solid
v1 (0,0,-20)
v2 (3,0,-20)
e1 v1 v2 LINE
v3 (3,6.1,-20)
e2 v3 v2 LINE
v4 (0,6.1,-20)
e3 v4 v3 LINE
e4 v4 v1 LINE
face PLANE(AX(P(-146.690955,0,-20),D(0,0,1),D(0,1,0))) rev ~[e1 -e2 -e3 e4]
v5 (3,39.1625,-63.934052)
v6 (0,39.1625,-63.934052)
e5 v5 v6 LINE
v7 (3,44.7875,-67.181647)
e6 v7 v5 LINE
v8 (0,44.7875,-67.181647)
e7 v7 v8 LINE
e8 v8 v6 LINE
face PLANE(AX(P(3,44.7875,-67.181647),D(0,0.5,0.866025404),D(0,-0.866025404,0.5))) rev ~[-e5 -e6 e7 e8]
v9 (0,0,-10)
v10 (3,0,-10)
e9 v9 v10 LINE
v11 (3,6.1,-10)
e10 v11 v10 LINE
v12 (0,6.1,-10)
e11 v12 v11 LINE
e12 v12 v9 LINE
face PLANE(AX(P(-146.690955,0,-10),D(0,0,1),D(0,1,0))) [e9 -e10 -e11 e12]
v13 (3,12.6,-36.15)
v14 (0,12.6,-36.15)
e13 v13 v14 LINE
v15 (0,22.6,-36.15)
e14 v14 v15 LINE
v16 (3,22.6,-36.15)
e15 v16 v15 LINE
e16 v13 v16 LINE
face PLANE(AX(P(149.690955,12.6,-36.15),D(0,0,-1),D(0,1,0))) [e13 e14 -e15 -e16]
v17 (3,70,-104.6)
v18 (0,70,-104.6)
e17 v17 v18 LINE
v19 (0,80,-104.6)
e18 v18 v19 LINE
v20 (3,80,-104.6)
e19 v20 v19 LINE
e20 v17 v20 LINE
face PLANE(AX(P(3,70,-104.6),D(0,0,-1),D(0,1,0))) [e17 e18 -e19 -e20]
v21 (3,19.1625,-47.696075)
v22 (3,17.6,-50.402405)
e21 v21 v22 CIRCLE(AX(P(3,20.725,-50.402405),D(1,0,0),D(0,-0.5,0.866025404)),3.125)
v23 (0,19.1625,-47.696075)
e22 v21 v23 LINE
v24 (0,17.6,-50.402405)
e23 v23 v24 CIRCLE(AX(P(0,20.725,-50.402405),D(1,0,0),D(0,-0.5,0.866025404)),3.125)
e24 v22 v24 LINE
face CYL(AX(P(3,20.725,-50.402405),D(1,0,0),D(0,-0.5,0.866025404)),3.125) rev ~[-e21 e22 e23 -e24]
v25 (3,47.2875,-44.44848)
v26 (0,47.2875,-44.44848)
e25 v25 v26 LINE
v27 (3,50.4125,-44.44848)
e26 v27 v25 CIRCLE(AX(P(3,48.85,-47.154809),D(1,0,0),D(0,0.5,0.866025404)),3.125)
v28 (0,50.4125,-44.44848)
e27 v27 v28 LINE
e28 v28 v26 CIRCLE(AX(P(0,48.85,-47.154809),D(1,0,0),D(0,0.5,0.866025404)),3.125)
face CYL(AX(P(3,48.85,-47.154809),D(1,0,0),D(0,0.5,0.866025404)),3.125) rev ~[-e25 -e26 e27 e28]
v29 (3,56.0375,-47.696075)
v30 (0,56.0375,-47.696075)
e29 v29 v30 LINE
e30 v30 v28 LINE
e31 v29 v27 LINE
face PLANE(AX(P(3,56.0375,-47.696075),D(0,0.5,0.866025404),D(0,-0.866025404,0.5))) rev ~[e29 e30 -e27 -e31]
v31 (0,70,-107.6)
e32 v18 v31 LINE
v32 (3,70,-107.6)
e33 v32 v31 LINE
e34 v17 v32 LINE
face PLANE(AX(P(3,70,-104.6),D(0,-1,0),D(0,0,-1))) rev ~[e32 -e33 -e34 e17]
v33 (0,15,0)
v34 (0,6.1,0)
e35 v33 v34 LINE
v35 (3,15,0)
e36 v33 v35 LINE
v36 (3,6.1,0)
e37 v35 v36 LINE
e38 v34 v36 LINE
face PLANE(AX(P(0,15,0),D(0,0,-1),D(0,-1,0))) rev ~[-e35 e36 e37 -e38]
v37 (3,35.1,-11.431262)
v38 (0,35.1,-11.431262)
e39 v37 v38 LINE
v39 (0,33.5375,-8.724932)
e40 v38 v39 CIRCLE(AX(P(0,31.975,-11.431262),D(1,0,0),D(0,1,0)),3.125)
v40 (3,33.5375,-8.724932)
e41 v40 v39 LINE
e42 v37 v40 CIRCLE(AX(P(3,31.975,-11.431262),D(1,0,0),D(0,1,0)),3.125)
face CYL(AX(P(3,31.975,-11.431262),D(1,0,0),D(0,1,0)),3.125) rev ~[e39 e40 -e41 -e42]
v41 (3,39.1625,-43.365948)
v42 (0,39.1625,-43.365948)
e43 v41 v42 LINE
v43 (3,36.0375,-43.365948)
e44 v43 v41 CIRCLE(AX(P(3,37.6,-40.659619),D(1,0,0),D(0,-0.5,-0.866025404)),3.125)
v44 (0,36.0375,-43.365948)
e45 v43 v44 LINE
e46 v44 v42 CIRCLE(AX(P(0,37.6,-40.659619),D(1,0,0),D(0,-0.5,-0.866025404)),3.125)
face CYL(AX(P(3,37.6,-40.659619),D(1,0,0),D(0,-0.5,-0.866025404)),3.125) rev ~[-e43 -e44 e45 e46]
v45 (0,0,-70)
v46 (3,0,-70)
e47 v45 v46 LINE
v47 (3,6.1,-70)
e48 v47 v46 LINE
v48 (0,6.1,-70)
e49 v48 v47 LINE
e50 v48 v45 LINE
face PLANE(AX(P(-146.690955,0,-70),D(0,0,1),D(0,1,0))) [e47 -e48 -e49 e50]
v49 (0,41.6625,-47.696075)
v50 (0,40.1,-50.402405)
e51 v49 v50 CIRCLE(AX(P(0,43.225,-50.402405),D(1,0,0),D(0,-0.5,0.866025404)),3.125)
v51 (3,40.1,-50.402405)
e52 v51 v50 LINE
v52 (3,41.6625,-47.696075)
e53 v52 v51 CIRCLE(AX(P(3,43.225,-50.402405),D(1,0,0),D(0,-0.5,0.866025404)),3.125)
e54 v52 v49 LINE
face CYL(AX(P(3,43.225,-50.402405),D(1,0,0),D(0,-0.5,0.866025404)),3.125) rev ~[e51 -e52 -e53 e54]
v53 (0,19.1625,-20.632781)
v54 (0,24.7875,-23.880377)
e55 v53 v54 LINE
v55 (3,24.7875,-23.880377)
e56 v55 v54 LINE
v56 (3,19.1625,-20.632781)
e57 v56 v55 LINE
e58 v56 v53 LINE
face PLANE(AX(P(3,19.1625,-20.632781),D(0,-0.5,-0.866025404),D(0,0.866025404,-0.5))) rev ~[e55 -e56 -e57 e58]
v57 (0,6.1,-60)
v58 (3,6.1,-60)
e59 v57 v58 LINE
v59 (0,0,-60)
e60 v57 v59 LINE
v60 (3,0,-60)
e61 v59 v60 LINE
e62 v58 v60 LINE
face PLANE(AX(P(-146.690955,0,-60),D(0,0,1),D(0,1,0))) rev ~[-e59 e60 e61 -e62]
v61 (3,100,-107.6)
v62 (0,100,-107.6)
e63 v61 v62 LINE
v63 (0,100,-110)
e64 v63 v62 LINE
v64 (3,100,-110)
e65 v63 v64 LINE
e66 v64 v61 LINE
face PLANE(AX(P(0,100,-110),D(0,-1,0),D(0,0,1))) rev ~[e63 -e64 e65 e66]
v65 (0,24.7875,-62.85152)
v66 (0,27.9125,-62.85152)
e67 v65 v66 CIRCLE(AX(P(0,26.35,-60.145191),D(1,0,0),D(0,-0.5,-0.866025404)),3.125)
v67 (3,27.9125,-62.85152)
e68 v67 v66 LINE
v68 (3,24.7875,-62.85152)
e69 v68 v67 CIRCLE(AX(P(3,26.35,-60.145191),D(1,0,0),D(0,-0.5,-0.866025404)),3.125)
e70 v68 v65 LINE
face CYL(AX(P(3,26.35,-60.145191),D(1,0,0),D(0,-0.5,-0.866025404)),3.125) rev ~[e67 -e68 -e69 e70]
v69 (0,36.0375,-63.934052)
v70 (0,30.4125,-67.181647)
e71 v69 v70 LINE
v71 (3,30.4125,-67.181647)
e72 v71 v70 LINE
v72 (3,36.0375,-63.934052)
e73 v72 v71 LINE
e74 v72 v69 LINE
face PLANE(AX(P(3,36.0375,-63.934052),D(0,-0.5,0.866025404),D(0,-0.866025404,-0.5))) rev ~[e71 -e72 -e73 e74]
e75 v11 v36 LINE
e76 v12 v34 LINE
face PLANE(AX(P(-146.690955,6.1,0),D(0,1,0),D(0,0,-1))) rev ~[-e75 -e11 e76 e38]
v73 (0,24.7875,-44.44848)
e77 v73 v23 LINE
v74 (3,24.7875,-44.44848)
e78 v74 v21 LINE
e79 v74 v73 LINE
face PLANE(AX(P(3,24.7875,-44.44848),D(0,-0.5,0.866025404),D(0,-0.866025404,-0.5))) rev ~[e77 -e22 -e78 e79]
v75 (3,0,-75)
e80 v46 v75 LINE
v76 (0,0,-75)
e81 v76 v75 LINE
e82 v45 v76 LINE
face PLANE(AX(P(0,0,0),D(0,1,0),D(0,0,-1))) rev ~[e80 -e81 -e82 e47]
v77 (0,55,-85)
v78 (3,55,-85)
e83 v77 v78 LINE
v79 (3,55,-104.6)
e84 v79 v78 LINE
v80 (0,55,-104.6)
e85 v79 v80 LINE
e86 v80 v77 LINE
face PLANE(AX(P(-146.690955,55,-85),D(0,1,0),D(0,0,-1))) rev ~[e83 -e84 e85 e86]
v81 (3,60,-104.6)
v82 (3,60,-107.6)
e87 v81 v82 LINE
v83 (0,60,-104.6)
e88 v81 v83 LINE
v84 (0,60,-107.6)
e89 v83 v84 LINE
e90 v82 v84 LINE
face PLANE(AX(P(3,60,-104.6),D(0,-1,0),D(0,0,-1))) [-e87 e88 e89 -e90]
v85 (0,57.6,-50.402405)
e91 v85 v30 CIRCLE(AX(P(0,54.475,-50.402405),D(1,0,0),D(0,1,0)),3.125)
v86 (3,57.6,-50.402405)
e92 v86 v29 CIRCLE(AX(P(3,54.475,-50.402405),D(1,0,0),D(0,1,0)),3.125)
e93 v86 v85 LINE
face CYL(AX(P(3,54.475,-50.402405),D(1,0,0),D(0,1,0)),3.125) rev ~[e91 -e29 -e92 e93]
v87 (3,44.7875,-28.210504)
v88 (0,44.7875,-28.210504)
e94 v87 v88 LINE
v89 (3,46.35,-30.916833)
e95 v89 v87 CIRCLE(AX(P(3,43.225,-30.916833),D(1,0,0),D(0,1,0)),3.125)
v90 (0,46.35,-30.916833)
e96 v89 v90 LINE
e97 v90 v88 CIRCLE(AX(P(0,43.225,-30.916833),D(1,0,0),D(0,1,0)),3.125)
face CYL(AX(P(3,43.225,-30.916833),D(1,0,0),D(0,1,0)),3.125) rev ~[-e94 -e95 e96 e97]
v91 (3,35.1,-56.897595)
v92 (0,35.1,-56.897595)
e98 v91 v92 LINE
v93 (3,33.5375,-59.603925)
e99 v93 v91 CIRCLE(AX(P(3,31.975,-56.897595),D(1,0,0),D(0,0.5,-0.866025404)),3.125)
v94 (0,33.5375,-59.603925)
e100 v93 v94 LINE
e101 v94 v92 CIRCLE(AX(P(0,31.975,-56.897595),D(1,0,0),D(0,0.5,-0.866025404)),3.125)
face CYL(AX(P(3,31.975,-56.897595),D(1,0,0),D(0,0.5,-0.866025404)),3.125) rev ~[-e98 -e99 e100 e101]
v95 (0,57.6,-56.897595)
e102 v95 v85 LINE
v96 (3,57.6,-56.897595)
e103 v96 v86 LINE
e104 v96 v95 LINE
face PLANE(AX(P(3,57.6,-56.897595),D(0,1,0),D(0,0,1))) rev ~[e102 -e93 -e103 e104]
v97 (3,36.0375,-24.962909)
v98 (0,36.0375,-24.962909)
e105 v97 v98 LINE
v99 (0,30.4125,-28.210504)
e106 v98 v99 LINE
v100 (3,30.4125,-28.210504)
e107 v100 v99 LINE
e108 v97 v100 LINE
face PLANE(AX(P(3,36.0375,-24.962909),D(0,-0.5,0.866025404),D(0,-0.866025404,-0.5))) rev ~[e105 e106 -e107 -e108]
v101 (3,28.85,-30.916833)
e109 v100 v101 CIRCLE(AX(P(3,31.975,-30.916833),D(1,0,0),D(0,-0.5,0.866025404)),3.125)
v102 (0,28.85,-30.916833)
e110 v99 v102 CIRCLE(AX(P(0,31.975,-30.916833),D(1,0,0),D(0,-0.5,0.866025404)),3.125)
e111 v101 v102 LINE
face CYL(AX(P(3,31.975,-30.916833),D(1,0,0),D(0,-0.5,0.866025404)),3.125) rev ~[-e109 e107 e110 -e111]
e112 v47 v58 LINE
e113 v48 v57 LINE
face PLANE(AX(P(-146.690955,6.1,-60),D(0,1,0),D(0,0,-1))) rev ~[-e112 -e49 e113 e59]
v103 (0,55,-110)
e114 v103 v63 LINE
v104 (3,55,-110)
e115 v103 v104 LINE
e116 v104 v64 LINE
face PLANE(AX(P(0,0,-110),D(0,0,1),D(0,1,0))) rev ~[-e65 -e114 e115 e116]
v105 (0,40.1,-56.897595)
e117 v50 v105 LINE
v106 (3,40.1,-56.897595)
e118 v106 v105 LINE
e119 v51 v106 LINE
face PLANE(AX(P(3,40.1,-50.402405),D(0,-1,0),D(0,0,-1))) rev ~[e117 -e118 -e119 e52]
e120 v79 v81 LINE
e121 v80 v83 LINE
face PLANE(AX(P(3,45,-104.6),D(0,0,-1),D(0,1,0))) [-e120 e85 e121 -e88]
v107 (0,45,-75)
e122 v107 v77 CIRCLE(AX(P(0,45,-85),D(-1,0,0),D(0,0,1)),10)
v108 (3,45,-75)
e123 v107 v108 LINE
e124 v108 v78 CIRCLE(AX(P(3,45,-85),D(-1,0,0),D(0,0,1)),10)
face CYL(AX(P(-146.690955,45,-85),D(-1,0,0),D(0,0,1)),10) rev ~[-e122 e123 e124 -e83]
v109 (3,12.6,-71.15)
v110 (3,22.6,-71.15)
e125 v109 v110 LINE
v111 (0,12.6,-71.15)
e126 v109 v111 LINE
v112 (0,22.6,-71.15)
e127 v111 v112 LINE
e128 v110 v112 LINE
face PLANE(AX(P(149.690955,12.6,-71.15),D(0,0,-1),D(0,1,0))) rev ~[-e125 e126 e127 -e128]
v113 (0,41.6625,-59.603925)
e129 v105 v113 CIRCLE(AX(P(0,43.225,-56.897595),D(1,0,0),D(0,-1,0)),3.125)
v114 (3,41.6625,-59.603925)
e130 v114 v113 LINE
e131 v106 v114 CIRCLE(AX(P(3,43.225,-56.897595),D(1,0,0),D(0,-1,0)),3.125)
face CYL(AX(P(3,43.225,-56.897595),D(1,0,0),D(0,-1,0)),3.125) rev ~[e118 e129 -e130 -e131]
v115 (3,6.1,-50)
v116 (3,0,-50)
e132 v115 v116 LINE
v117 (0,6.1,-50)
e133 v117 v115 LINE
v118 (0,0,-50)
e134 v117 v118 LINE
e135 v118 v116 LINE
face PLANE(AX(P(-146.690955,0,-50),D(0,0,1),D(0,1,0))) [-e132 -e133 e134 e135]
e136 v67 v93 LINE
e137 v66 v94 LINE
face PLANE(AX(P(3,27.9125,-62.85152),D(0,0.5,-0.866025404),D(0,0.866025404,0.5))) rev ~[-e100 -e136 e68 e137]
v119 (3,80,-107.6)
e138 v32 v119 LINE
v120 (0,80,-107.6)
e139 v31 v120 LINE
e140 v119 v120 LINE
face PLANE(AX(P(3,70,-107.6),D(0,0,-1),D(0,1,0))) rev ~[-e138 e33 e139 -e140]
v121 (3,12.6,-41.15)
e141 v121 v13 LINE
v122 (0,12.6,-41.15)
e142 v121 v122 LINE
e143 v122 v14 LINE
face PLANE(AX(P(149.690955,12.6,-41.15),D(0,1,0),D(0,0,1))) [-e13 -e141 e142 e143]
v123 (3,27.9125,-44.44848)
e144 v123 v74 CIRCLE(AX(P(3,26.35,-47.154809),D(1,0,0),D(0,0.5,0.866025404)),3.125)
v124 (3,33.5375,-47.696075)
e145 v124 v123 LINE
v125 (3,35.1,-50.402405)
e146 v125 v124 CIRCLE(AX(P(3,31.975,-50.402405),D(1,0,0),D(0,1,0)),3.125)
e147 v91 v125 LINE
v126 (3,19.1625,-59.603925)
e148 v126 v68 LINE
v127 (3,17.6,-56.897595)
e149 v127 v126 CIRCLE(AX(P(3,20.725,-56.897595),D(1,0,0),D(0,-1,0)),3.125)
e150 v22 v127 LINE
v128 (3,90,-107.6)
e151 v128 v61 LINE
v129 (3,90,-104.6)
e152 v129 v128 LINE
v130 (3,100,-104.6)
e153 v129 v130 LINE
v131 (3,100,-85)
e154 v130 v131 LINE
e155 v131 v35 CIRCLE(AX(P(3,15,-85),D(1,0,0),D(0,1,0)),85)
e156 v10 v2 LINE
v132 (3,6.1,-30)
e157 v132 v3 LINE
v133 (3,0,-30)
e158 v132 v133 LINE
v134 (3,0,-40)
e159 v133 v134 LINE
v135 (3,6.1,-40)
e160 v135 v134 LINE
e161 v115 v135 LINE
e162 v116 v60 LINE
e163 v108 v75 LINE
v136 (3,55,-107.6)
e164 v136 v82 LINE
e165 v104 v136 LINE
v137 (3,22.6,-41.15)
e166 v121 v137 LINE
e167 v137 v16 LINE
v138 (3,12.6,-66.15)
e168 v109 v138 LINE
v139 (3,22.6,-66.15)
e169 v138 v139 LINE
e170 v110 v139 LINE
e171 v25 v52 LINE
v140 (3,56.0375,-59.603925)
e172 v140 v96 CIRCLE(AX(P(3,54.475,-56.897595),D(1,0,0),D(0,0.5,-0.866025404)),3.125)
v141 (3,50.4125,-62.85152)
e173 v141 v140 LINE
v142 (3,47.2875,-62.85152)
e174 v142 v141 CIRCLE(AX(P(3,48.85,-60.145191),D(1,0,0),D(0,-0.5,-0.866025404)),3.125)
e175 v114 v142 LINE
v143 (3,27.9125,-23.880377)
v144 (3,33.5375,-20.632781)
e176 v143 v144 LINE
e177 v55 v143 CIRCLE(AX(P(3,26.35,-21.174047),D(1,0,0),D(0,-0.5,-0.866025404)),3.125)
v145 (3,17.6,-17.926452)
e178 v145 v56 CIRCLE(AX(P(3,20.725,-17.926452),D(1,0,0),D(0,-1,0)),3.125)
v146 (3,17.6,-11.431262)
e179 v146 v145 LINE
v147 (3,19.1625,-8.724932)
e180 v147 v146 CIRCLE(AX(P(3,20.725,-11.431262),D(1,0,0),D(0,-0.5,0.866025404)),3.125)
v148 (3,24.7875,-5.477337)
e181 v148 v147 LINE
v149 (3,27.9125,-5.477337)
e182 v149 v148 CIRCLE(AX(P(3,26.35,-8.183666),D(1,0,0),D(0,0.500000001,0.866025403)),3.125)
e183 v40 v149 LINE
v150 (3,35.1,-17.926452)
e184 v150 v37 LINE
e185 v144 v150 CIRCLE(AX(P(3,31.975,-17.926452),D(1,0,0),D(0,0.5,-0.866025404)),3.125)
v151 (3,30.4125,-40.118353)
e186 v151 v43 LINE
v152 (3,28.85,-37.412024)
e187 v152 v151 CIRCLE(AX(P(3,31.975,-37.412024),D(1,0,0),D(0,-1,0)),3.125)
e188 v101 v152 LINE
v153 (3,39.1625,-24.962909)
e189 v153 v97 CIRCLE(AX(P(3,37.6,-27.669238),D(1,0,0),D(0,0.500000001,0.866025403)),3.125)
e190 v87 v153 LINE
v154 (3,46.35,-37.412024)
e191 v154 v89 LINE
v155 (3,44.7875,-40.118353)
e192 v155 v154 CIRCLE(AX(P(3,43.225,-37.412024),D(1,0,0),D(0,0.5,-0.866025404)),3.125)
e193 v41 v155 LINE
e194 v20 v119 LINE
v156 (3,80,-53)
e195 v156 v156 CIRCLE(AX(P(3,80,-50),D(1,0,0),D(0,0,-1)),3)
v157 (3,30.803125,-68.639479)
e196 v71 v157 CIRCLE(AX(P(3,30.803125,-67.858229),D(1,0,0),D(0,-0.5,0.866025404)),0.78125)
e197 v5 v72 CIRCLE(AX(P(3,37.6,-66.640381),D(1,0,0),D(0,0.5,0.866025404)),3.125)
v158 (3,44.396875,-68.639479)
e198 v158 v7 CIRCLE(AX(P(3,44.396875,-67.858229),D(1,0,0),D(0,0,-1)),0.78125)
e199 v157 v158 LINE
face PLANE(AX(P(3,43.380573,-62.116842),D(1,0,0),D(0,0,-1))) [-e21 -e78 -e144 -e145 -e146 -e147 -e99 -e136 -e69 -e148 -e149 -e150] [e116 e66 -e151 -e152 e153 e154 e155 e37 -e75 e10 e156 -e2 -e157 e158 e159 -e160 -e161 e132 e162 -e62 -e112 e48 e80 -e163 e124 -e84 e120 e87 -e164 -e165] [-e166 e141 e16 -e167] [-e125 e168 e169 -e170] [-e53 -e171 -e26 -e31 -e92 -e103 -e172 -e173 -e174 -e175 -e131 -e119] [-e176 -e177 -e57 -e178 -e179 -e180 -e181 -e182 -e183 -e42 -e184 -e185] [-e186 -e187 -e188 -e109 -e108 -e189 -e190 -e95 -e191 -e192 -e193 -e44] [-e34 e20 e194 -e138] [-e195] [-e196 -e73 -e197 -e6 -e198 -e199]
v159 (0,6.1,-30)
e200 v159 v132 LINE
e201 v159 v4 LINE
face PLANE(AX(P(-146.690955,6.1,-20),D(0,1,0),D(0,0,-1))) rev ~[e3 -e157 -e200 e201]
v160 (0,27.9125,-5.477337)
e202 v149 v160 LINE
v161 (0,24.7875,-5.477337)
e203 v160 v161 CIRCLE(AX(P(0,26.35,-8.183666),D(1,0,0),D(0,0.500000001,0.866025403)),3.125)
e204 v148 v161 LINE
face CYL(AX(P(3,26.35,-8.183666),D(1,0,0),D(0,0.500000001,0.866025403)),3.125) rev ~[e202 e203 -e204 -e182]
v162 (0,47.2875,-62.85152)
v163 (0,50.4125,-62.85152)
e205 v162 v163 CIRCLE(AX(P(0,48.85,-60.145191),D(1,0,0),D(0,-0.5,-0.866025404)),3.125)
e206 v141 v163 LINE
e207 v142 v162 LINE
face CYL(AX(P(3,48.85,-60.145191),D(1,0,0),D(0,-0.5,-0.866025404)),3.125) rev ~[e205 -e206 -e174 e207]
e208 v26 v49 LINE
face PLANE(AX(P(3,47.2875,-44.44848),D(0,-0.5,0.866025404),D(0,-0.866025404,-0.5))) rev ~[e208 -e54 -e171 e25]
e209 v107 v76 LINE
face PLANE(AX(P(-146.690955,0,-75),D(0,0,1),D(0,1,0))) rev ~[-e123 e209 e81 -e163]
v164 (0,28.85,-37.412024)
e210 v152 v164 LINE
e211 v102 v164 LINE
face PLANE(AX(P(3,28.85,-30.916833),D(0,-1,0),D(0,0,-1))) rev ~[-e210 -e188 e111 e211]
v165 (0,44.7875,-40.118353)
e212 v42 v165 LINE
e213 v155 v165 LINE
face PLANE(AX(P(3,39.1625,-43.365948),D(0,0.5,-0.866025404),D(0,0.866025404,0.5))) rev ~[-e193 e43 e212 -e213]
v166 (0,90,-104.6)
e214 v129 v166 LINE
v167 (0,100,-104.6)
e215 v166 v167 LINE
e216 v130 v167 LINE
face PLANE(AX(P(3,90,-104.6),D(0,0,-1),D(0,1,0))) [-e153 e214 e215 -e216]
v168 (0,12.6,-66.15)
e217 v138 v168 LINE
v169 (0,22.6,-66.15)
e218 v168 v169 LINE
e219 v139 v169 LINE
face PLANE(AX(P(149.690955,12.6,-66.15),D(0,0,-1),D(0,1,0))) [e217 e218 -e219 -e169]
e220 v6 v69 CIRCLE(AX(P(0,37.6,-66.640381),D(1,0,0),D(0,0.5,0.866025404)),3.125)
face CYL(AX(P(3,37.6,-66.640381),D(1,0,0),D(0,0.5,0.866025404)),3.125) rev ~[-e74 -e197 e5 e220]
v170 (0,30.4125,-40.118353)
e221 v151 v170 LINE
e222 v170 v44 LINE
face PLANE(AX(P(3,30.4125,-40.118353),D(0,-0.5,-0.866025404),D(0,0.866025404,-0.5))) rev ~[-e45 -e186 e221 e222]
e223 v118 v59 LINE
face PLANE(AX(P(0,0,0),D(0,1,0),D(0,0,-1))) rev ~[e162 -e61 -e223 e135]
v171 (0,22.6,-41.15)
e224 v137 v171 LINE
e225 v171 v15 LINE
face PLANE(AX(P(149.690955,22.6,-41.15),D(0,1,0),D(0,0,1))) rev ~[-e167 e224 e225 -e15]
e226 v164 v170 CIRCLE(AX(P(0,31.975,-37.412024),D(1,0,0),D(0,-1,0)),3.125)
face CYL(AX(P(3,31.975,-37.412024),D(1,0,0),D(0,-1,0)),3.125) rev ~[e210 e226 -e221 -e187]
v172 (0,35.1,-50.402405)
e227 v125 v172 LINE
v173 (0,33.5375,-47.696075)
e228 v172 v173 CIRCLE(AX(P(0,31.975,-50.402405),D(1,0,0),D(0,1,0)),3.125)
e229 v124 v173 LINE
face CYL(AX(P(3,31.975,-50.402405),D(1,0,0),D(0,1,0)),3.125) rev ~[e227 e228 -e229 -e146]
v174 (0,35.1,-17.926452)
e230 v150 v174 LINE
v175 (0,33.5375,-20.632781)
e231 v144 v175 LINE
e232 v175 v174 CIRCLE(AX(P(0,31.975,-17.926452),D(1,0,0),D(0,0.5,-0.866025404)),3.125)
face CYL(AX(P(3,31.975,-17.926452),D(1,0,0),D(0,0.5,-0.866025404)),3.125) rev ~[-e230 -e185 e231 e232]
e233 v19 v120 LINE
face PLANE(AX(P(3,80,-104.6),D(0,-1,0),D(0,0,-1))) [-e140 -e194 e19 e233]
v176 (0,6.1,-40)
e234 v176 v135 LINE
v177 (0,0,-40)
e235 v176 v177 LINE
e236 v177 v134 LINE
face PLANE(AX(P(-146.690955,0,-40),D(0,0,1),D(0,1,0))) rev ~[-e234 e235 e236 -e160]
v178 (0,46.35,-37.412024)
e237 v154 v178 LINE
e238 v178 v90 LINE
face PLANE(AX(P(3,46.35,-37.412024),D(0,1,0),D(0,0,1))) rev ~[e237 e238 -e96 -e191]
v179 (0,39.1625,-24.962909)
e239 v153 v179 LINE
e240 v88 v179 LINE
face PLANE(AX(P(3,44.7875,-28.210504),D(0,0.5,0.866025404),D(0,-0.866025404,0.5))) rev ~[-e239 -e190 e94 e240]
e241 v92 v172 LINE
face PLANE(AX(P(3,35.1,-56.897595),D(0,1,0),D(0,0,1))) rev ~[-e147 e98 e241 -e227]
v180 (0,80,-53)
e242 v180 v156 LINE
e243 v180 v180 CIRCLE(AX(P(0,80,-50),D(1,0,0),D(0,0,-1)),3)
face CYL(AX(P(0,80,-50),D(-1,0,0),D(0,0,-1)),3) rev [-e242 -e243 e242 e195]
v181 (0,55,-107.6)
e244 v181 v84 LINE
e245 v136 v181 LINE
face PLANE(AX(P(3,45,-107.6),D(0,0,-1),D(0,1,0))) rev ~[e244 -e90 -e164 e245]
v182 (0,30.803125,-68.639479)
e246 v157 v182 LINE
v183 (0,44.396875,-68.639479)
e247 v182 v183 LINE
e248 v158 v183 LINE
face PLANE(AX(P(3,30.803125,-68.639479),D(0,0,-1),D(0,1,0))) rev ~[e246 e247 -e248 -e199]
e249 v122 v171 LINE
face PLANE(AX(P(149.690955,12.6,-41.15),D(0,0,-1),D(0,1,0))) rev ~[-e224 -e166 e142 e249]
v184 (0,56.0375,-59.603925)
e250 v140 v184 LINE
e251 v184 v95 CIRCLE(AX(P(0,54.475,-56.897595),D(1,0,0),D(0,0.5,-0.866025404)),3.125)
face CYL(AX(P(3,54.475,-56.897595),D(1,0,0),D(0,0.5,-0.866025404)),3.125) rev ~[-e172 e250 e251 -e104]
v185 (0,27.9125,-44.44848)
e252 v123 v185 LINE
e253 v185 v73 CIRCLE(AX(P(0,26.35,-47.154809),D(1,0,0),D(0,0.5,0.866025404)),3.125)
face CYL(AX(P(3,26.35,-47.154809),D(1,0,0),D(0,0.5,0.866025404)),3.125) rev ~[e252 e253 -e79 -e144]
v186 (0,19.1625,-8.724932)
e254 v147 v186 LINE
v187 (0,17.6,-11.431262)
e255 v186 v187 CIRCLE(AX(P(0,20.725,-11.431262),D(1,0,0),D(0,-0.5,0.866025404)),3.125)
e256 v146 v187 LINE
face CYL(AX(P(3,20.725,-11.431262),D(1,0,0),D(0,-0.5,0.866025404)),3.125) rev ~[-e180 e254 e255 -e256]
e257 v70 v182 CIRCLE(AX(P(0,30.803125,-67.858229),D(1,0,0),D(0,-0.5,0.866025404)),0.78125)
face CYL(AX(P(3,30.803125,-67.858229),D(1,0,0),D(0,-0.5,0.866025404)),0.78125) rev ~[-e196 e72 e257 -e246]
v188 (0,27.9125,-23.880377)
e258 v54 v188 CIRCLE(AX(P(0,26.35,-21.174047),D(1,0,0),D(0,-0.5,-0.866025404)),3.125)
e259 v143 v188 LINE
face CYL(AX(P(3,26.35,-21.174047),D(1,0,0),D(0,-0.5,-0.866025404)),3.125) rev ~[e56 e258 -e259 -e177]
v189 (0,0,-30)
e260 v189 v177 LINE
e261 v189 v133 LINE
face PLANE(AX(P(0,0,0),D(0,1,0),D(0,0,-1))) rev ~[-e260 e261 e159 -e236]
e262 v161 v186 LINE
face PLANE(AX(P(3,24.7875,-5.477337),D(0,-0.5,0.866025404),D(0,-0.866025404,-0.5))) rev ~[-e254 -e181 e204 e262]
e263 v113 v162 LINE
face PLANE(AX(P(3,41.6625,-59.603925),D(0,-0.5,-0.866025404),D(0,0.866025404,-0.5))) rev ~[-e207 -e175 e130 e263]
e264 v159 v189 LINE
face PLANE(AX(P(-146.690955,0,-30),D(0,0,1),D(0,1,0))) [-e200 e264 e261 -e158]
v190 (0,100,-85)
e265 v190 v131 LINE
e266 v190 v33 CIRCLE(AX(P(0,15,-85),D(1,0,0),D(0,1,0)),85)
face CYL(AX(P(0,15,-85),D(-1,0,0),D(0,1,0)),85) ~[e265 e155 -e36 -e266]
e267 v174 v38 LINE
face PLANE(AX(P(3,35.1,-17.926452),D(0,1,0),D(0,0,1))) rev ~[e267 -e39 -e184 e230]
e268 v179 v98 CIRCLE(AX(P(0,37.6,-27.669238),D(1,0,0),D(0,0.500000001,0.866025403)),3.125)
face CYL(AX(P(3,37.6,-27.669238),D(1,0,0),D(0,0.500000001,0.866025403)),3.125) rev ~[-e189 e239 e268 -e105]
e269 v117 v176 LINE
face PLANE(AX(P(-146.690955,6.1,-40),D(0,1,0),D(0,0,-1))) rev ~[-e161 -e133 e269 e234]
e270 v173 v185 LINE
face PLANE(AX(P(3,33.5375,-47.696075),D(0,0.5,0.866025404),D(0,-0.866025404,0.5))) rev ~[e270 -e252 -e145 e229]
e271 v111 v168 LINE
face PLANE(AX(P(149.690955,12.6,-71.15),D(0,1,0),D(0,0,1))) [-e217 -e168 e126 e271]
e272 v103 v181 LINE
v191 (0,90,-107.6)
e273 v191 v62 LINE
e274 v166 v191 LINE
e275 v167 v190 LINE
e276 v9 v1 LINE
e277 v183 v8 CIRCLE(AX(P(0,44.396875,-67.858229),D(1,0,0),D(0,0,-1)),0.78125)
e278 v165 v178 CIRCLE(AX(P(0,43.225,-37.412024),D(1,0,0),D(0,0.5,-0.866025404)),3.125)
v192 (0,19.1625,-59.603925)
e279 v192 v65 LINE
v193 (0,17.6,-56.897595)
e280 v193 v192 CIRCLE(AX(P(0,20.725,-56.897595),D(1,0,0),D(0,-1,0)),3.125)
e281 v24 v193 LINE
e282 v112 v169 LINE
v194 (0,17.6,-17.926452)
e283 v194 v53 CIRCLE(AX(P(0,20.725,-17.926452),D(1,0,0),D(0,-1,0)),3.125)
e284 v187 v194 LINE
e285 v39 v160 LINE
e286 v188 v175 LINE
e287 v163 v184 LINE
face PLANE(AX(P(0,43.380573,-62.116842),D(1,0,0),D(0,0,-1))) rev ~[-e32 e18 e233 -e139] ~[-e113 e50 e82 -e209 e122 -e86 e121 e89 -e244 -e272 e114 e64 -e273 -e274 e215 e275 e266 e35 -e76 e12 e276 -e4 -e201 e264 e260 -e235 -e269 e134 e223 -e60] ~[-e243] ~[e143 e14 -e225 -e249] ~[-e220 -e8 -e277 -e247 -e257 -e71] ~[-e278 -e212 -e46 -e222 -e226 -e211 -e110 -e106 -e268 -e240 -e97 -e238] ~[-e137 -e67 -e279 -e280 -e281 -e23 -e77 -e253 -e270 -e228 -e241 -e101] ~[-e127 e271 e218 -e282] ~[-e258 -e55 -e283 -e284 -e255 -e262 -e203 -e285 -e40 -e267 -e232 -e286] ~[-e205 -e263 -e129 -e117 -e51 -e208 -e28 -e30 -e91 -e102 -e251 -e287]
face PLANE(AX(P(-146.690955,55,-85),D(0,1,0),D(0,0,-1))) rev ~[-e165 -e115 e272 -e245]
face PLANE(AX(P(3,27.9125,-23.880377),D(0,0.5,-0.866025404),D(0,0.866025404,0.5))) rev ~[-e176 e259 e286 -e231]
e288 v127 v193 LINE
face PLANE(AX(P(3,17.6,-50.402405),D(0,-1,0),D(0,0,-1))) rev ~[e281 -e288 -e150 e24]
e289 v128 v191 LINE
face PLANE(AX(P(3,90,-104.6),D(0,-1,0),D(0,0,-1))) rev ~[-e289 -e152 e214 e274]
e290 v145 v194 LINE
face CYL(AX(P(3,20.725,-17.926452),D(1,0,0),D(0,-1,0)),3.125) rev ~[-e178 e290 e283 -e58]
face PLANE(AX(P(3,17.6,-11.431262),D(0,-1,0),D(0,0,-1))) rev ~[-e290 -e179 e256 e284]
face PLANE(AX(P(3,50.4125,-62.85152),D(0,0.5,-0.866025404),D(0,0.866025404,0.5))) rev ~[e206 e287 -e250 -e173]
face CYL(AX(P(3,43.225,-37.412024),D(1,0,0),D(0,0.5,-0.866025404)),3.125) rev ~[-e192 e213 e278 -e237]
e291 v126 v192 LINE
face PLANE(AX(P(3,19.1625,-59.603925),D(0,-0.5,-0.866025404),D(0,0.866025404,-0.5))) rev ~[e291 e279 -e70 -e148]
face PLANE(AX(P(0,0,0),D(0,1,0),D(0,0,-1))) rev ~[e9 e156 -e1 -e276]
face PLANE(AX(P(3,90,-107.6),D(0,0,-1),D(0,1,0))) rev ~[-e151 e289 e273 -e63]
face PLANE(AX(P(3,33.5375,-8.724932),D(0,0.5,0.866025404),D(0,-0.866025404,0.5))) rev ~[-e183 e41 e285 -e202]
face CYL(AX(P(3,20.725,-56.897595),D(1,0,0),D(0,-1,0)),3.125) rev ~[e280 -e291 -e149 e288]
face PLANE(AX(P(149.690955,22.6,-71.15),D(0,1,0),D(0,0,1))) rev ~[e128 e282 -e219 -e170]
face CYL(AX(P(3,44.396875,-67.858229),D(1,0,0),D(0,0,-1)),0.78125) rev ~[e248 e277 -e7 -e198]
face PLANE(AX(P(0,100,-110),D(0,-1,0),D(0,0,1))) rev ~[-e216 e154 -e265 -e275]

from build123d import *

# Parameters (mm, degrees)
SKETCH1_R               = 3
BOSS_EXTRUDE1_DEPTH     = 3
CUT_EXTRUDE1_DEPTH      = 149.690954668
CUT_EXTRUDE1_DEPTH_BACK = 149.690954668
CUT_EXTRUDE2_DEPTH      = 149.690954668
CUT_EXTRUDE2_DEPTH_BACK = 149.690954668
SKETCH4_W               = 10
SKETCH4_H               = 6.1
CUT_EXTRUDE3_DEPTH      = 149.690954668
CUT_EXTRUDE3_DEPTH_BACK = 149.690954668
SKETCH5_W               = 5
SKETCH5_H               = 10
SKETCH6_W               = 3
SKETCH6_H               = 10
SKETCH6_H_2             = 15
CUT_EXTRUDE4_DEPTH      = 149.690954668
CUT_EXTRUDE5_DEPTH      = 149.690954668


with BuildPart() as part:
    # Sketch1 → Boss-Extrude1 (new body)
    with BuildSketch(Plane(origin=(0, 0, 0), x_dir=(0, 0, -1), z_dir=(1, 0, 0))):
        with BuildLine():
            Line((0, 0), (110, 0))
            Line((110, 0), (110, 100))
            Line((110, 100), (85, 100))
            ThreePointArc((85, 100), (24.895923599, 75.104076401), (0, 15))
            Line((0, 15), (0, 0))
        make_face()
        with Locations((50, 80)):
            Circle(SKETCH1_R, mode=Mode.SUBTRACT)
    extrude(amount=BOSS_EXTRUDE1_DEPTH)

    # Sketch2 → Cut-Extrude1 (cut, two sides: drawn at the far end of the back side and taken through both)
    with BuildSketch(Plane(origin=(3, 0, 0), x_dir=(0, 0, -1), z_dir=(1, 0, 0)).offset(-CUT_EXTRUDE1_DEPTH_BACK)):
        with BuildLine():
            Line((110, 0), (75, 0))
            Line((75, 0), (75, 45))
            ThreePointArc((75, 45), (77.928932188, 52.071067812), (85, 55))
            Line((85, 55), (110, 55))
            Line((110, 55), (110, 0))
        make_face()
    extrude(amount=CUT_EXTRUDE1_DEPTH + CUT_EXTRUDE1_DEPTH_BACK, mode=Mode.SUBTRACT)

    # Sketch4 → Cut-Extrude2 (cut, two sides: drawn at the far end of the back side and taken through both)
    with BuildSketch(Plane(origin=(3, 0, 0), x_dir=(0, 0, -1), z_dir=(1, 0, 0)).offset(-CUT_EXTRUDE2_DEPTH_BACK)):
        with Locations((25, 3.05)):
            Rectangle(SKETCH4_W, SKETCH4_H)
        with Locations((5, 3.05)):
            Rectangle(SKETCH4_W, SKETCH4_H)
        with Locations((45, 3.05)):
            Rectangle(SKETCH4_W, SKETCH4_H)
        with Locations((65, 3.05)):
            Rectangle(SKETCH4_W, SKETCH4_H)
    extrude(amount=CUT_EXTRUDE2_DEPTH + CUT_EXTRUDE2_DEPTH_BACK, mode=Mode.SUBTRACT)

    # Sketch5 → Cut-Extrude3 (cut, two sides: drawn at the far end of the back side and taken through both)
    with BuildSketch(Plane.ZY.offset(-CUT_EXTRUDE3_DEPTH_BACK)):
        with Locations((-68.65, 17.6)):
            Rectangle(SKETCH5_W, SKETCH5_H)
        with Locations((-38.65, 17.6)):
            Rectangle(SKETCH5_W, SKETCH5_H)
    extrude(amount=CUT_EXTRUDE3_DEPTH + CUT_EXTRUDE3_DEPTH_BACK, mode=Mode.SUBTRACT)

    # Sketch6 → Cut-Extrude4 (cut, through all)
    with BuildSketch(Plane(origin=(3, 0, 0), x_dir=(0, 0, -1), z_dir=(1, 0, 0))):
        with Locations((106.1, 95)):
            Rectangle(SKETCH6_W, SKETCH6_H)
        with Locations((106.1, 75)):
            Rectangle(SKETCH6_W, SKETCH6_H)
        with Locations((106.1, 52.5)):
            Rectangle(SKETCH6_W, SKETCH6_H_2)
    extrude(amount=-CUT_EXTRUDE4_DEPTH, mode=Mode.SUBTRACT)

    # Sketch7 → Cut-Extrude5 (cut, through all)
    with BuildSketch(Plane(origin=(3, 0, 0), x_dir=(0, 0, -1), z_dir=(1, 0, 0))):
        with BuildLine():
            Line((62.851519915, 50.4125), (59.603924651, 56.0375))
            ThreePointArc((59.603924651, 56.0375), (58.460095264, 57.181329387), (56.897595264, 57.6))
            Line((56.897595264, 57.6), (50.402404736, 57.6))
            ThreePointArc((50.402404736, 57.6), (48.839904736, 57.181329387), (47.696075349, 56.0375))
            Line((47.696075349, 56.0375), (44.448480085, 50.4125))
            ThreePointArc((44.448480085, 50.4125), (44.029809472, 48.85), (44.448480085, 47.2875))
            Line((44.448480085, 47.2875), (47.696075349, 41.6625))
            ThreePointArc((47.696075349, 41.6625), (48.839904736, 40.518670613), (50.402404736, 40.1))
            Line((50.402404736, 40.1), (56.897595264, 40.1))
            ThreePointArc((56.897595264, 40.1), (58.460095264, 40.518670613), (59.603924651, 41.6625))
            Line((59.603924651, 41.6625), (62.851519915, 47.2875))
            ThreePointArc((62.851519915, 47.2875), (63.270190528, 48.85), (62.851519915, 50.4125))
        make_face()
        with BuildLine():
            Line((67.181646934, 44.7875), (63.93405167, 39.1625))
            ThreePointArc((63.93405167, 39.1625), (63.515381057, 37.6), (63.93405167, 36.0375))
            Line((63.93405167, 36.0375), (67.181646934, 30.4125))
            ThreePointArc((67.181646934, 30.4125), (68.06043166, 30.048495448), (68.639479281, 30.803125))
            Line((68.639479281, 30.803125), (68.639479281, 44.396875))
            ThreePointArc((68.639479281, 44.396875), (68.06043166, 45.151504552), (67.181646934, 44.7875))
        make_face()
        with BuildLine():
            Line((62.851519915, 27.9125), (59.603924651, 33.5375))
            ThreePointArc((59.603924651, 33.5375), (58.460095264, 34.681329387), (56.897595264, 35.1))
            Line((56.897595264, 35.1), (50.402404736, 35.1))
            ThreePointArc((50.402404736, 35.1), (48.839904736, 34.681329387), (47.696075349, 33.5375))
            Line((47.696075349, 33.5375), (44.448480085, 27.9125))
            ThreePointArc((44.448480085, 27.9125), (44.029809472, 26.35), (44.448480085, 24.7875))
            Line((44.448480085, 24.7875), (47.696075349, 19.1625))
            ThreePointArc((47.696075349, 19.1625), (48.839904736, 18.018670613), (50.402404736, 17.6))
            Line((50.402404736, 17.6), (56.897595264, 17.6))
            ThreePointArc((56.897595264, 17.6), (58.460095264, 18.018670613), (59.603924651, 19.1625))
            Line((59.603924651, 19.1625), (62.851519915, 24.7875))
            ThreePointArc((62.851519915, 24.7875), (63.270190528, 26.35), (62.851519915, 27.9125))
        make_face()
        with BuildLine():
            Line((43.36594833, 39.1625), (40.118353066, 44.7875))
            ThreePointArc((40.118353066, 44.7875), (38.974523679, 45.931329387), (37.412023679, 46.35))
            Line((37.412023679, 46.35), (30.916833151, 46.35))
            ThreePointArc((30.916833151, 46.35), (29.354333151, 45.931329387), (28.210503764, 44.7875))
            Line((28.210503764, 44.7875), (24.9629085, 39.1625))
            ThreePointArc((24.9629085, 39.1625), (24.544237886, 37.6), (24.9629085, 36.0375))
            Line((24.9629085, 36.0375), (28.210503764, 30.4125))
            ThreePointArc((28.210503764, 30.4125), (29.354333151, 29.268670613), (30.916833151, 28.85))
            Line((30.916833151, 28.85), (37.412023679, 28.85))
            ThreePointArc((37.412023679, 28.85), (38.974523679, 29.268670613), (40.118353066, 30.4125))
            Line((40.118353066, 30.4125), (43.36594833, 36.0375))
            ThreePointArc((43.36594833, 36.0375), (43.784618943, 37.6), (43.36594833, 39.1625))
        make_face()
        with BuildLine():
            Line((23.880376745, 27.9125), (20.632781481, 33.5375))
            ThreePointArc((20.632781481, 33.5375), (19.488952094, 34.681329387), (17.926452094, 35.1))
            Line((17.926452094, 35.1), (11.431261566, 35.1))
            ThreePointArc((11.431261566, 35.1), (9.868761566, 34.681329387), (8.724932179, 33.5375))
            Line((8.724932179, 33.5375), (5.477336915, 27.9125))
            ThreePointArc((5.477336915, 27.9125), (5.058666301, 26.35), (5.477336915, 24.7875))
            Line((5.477336915, 24.7875), (8.724932179, 19.1625))
            ThreePointArc((8.724932179, 19.1625), (9.868761566, 18.018670613), (11.431261566, 17.6))
            Line((11.431261566, 17.6), (17.926452094, 17.6))
            ThreePointArc((17.926452094, 17.6), (19.488952094, 18.018670613), (20.632781481, 19.1625))
            Line((20.632781481, 19.1625), (23.880376745, 24.7875))
            ThreePointArc((23.880376745, 24.7875), (24.299047358, 26.35), (23.880376745, 27.9125))
        make_face()
    extrude(amount=-CUT_EXTRUDE5_DEPTH, mode=Mode.SUBTRACT)


solid = part.part
